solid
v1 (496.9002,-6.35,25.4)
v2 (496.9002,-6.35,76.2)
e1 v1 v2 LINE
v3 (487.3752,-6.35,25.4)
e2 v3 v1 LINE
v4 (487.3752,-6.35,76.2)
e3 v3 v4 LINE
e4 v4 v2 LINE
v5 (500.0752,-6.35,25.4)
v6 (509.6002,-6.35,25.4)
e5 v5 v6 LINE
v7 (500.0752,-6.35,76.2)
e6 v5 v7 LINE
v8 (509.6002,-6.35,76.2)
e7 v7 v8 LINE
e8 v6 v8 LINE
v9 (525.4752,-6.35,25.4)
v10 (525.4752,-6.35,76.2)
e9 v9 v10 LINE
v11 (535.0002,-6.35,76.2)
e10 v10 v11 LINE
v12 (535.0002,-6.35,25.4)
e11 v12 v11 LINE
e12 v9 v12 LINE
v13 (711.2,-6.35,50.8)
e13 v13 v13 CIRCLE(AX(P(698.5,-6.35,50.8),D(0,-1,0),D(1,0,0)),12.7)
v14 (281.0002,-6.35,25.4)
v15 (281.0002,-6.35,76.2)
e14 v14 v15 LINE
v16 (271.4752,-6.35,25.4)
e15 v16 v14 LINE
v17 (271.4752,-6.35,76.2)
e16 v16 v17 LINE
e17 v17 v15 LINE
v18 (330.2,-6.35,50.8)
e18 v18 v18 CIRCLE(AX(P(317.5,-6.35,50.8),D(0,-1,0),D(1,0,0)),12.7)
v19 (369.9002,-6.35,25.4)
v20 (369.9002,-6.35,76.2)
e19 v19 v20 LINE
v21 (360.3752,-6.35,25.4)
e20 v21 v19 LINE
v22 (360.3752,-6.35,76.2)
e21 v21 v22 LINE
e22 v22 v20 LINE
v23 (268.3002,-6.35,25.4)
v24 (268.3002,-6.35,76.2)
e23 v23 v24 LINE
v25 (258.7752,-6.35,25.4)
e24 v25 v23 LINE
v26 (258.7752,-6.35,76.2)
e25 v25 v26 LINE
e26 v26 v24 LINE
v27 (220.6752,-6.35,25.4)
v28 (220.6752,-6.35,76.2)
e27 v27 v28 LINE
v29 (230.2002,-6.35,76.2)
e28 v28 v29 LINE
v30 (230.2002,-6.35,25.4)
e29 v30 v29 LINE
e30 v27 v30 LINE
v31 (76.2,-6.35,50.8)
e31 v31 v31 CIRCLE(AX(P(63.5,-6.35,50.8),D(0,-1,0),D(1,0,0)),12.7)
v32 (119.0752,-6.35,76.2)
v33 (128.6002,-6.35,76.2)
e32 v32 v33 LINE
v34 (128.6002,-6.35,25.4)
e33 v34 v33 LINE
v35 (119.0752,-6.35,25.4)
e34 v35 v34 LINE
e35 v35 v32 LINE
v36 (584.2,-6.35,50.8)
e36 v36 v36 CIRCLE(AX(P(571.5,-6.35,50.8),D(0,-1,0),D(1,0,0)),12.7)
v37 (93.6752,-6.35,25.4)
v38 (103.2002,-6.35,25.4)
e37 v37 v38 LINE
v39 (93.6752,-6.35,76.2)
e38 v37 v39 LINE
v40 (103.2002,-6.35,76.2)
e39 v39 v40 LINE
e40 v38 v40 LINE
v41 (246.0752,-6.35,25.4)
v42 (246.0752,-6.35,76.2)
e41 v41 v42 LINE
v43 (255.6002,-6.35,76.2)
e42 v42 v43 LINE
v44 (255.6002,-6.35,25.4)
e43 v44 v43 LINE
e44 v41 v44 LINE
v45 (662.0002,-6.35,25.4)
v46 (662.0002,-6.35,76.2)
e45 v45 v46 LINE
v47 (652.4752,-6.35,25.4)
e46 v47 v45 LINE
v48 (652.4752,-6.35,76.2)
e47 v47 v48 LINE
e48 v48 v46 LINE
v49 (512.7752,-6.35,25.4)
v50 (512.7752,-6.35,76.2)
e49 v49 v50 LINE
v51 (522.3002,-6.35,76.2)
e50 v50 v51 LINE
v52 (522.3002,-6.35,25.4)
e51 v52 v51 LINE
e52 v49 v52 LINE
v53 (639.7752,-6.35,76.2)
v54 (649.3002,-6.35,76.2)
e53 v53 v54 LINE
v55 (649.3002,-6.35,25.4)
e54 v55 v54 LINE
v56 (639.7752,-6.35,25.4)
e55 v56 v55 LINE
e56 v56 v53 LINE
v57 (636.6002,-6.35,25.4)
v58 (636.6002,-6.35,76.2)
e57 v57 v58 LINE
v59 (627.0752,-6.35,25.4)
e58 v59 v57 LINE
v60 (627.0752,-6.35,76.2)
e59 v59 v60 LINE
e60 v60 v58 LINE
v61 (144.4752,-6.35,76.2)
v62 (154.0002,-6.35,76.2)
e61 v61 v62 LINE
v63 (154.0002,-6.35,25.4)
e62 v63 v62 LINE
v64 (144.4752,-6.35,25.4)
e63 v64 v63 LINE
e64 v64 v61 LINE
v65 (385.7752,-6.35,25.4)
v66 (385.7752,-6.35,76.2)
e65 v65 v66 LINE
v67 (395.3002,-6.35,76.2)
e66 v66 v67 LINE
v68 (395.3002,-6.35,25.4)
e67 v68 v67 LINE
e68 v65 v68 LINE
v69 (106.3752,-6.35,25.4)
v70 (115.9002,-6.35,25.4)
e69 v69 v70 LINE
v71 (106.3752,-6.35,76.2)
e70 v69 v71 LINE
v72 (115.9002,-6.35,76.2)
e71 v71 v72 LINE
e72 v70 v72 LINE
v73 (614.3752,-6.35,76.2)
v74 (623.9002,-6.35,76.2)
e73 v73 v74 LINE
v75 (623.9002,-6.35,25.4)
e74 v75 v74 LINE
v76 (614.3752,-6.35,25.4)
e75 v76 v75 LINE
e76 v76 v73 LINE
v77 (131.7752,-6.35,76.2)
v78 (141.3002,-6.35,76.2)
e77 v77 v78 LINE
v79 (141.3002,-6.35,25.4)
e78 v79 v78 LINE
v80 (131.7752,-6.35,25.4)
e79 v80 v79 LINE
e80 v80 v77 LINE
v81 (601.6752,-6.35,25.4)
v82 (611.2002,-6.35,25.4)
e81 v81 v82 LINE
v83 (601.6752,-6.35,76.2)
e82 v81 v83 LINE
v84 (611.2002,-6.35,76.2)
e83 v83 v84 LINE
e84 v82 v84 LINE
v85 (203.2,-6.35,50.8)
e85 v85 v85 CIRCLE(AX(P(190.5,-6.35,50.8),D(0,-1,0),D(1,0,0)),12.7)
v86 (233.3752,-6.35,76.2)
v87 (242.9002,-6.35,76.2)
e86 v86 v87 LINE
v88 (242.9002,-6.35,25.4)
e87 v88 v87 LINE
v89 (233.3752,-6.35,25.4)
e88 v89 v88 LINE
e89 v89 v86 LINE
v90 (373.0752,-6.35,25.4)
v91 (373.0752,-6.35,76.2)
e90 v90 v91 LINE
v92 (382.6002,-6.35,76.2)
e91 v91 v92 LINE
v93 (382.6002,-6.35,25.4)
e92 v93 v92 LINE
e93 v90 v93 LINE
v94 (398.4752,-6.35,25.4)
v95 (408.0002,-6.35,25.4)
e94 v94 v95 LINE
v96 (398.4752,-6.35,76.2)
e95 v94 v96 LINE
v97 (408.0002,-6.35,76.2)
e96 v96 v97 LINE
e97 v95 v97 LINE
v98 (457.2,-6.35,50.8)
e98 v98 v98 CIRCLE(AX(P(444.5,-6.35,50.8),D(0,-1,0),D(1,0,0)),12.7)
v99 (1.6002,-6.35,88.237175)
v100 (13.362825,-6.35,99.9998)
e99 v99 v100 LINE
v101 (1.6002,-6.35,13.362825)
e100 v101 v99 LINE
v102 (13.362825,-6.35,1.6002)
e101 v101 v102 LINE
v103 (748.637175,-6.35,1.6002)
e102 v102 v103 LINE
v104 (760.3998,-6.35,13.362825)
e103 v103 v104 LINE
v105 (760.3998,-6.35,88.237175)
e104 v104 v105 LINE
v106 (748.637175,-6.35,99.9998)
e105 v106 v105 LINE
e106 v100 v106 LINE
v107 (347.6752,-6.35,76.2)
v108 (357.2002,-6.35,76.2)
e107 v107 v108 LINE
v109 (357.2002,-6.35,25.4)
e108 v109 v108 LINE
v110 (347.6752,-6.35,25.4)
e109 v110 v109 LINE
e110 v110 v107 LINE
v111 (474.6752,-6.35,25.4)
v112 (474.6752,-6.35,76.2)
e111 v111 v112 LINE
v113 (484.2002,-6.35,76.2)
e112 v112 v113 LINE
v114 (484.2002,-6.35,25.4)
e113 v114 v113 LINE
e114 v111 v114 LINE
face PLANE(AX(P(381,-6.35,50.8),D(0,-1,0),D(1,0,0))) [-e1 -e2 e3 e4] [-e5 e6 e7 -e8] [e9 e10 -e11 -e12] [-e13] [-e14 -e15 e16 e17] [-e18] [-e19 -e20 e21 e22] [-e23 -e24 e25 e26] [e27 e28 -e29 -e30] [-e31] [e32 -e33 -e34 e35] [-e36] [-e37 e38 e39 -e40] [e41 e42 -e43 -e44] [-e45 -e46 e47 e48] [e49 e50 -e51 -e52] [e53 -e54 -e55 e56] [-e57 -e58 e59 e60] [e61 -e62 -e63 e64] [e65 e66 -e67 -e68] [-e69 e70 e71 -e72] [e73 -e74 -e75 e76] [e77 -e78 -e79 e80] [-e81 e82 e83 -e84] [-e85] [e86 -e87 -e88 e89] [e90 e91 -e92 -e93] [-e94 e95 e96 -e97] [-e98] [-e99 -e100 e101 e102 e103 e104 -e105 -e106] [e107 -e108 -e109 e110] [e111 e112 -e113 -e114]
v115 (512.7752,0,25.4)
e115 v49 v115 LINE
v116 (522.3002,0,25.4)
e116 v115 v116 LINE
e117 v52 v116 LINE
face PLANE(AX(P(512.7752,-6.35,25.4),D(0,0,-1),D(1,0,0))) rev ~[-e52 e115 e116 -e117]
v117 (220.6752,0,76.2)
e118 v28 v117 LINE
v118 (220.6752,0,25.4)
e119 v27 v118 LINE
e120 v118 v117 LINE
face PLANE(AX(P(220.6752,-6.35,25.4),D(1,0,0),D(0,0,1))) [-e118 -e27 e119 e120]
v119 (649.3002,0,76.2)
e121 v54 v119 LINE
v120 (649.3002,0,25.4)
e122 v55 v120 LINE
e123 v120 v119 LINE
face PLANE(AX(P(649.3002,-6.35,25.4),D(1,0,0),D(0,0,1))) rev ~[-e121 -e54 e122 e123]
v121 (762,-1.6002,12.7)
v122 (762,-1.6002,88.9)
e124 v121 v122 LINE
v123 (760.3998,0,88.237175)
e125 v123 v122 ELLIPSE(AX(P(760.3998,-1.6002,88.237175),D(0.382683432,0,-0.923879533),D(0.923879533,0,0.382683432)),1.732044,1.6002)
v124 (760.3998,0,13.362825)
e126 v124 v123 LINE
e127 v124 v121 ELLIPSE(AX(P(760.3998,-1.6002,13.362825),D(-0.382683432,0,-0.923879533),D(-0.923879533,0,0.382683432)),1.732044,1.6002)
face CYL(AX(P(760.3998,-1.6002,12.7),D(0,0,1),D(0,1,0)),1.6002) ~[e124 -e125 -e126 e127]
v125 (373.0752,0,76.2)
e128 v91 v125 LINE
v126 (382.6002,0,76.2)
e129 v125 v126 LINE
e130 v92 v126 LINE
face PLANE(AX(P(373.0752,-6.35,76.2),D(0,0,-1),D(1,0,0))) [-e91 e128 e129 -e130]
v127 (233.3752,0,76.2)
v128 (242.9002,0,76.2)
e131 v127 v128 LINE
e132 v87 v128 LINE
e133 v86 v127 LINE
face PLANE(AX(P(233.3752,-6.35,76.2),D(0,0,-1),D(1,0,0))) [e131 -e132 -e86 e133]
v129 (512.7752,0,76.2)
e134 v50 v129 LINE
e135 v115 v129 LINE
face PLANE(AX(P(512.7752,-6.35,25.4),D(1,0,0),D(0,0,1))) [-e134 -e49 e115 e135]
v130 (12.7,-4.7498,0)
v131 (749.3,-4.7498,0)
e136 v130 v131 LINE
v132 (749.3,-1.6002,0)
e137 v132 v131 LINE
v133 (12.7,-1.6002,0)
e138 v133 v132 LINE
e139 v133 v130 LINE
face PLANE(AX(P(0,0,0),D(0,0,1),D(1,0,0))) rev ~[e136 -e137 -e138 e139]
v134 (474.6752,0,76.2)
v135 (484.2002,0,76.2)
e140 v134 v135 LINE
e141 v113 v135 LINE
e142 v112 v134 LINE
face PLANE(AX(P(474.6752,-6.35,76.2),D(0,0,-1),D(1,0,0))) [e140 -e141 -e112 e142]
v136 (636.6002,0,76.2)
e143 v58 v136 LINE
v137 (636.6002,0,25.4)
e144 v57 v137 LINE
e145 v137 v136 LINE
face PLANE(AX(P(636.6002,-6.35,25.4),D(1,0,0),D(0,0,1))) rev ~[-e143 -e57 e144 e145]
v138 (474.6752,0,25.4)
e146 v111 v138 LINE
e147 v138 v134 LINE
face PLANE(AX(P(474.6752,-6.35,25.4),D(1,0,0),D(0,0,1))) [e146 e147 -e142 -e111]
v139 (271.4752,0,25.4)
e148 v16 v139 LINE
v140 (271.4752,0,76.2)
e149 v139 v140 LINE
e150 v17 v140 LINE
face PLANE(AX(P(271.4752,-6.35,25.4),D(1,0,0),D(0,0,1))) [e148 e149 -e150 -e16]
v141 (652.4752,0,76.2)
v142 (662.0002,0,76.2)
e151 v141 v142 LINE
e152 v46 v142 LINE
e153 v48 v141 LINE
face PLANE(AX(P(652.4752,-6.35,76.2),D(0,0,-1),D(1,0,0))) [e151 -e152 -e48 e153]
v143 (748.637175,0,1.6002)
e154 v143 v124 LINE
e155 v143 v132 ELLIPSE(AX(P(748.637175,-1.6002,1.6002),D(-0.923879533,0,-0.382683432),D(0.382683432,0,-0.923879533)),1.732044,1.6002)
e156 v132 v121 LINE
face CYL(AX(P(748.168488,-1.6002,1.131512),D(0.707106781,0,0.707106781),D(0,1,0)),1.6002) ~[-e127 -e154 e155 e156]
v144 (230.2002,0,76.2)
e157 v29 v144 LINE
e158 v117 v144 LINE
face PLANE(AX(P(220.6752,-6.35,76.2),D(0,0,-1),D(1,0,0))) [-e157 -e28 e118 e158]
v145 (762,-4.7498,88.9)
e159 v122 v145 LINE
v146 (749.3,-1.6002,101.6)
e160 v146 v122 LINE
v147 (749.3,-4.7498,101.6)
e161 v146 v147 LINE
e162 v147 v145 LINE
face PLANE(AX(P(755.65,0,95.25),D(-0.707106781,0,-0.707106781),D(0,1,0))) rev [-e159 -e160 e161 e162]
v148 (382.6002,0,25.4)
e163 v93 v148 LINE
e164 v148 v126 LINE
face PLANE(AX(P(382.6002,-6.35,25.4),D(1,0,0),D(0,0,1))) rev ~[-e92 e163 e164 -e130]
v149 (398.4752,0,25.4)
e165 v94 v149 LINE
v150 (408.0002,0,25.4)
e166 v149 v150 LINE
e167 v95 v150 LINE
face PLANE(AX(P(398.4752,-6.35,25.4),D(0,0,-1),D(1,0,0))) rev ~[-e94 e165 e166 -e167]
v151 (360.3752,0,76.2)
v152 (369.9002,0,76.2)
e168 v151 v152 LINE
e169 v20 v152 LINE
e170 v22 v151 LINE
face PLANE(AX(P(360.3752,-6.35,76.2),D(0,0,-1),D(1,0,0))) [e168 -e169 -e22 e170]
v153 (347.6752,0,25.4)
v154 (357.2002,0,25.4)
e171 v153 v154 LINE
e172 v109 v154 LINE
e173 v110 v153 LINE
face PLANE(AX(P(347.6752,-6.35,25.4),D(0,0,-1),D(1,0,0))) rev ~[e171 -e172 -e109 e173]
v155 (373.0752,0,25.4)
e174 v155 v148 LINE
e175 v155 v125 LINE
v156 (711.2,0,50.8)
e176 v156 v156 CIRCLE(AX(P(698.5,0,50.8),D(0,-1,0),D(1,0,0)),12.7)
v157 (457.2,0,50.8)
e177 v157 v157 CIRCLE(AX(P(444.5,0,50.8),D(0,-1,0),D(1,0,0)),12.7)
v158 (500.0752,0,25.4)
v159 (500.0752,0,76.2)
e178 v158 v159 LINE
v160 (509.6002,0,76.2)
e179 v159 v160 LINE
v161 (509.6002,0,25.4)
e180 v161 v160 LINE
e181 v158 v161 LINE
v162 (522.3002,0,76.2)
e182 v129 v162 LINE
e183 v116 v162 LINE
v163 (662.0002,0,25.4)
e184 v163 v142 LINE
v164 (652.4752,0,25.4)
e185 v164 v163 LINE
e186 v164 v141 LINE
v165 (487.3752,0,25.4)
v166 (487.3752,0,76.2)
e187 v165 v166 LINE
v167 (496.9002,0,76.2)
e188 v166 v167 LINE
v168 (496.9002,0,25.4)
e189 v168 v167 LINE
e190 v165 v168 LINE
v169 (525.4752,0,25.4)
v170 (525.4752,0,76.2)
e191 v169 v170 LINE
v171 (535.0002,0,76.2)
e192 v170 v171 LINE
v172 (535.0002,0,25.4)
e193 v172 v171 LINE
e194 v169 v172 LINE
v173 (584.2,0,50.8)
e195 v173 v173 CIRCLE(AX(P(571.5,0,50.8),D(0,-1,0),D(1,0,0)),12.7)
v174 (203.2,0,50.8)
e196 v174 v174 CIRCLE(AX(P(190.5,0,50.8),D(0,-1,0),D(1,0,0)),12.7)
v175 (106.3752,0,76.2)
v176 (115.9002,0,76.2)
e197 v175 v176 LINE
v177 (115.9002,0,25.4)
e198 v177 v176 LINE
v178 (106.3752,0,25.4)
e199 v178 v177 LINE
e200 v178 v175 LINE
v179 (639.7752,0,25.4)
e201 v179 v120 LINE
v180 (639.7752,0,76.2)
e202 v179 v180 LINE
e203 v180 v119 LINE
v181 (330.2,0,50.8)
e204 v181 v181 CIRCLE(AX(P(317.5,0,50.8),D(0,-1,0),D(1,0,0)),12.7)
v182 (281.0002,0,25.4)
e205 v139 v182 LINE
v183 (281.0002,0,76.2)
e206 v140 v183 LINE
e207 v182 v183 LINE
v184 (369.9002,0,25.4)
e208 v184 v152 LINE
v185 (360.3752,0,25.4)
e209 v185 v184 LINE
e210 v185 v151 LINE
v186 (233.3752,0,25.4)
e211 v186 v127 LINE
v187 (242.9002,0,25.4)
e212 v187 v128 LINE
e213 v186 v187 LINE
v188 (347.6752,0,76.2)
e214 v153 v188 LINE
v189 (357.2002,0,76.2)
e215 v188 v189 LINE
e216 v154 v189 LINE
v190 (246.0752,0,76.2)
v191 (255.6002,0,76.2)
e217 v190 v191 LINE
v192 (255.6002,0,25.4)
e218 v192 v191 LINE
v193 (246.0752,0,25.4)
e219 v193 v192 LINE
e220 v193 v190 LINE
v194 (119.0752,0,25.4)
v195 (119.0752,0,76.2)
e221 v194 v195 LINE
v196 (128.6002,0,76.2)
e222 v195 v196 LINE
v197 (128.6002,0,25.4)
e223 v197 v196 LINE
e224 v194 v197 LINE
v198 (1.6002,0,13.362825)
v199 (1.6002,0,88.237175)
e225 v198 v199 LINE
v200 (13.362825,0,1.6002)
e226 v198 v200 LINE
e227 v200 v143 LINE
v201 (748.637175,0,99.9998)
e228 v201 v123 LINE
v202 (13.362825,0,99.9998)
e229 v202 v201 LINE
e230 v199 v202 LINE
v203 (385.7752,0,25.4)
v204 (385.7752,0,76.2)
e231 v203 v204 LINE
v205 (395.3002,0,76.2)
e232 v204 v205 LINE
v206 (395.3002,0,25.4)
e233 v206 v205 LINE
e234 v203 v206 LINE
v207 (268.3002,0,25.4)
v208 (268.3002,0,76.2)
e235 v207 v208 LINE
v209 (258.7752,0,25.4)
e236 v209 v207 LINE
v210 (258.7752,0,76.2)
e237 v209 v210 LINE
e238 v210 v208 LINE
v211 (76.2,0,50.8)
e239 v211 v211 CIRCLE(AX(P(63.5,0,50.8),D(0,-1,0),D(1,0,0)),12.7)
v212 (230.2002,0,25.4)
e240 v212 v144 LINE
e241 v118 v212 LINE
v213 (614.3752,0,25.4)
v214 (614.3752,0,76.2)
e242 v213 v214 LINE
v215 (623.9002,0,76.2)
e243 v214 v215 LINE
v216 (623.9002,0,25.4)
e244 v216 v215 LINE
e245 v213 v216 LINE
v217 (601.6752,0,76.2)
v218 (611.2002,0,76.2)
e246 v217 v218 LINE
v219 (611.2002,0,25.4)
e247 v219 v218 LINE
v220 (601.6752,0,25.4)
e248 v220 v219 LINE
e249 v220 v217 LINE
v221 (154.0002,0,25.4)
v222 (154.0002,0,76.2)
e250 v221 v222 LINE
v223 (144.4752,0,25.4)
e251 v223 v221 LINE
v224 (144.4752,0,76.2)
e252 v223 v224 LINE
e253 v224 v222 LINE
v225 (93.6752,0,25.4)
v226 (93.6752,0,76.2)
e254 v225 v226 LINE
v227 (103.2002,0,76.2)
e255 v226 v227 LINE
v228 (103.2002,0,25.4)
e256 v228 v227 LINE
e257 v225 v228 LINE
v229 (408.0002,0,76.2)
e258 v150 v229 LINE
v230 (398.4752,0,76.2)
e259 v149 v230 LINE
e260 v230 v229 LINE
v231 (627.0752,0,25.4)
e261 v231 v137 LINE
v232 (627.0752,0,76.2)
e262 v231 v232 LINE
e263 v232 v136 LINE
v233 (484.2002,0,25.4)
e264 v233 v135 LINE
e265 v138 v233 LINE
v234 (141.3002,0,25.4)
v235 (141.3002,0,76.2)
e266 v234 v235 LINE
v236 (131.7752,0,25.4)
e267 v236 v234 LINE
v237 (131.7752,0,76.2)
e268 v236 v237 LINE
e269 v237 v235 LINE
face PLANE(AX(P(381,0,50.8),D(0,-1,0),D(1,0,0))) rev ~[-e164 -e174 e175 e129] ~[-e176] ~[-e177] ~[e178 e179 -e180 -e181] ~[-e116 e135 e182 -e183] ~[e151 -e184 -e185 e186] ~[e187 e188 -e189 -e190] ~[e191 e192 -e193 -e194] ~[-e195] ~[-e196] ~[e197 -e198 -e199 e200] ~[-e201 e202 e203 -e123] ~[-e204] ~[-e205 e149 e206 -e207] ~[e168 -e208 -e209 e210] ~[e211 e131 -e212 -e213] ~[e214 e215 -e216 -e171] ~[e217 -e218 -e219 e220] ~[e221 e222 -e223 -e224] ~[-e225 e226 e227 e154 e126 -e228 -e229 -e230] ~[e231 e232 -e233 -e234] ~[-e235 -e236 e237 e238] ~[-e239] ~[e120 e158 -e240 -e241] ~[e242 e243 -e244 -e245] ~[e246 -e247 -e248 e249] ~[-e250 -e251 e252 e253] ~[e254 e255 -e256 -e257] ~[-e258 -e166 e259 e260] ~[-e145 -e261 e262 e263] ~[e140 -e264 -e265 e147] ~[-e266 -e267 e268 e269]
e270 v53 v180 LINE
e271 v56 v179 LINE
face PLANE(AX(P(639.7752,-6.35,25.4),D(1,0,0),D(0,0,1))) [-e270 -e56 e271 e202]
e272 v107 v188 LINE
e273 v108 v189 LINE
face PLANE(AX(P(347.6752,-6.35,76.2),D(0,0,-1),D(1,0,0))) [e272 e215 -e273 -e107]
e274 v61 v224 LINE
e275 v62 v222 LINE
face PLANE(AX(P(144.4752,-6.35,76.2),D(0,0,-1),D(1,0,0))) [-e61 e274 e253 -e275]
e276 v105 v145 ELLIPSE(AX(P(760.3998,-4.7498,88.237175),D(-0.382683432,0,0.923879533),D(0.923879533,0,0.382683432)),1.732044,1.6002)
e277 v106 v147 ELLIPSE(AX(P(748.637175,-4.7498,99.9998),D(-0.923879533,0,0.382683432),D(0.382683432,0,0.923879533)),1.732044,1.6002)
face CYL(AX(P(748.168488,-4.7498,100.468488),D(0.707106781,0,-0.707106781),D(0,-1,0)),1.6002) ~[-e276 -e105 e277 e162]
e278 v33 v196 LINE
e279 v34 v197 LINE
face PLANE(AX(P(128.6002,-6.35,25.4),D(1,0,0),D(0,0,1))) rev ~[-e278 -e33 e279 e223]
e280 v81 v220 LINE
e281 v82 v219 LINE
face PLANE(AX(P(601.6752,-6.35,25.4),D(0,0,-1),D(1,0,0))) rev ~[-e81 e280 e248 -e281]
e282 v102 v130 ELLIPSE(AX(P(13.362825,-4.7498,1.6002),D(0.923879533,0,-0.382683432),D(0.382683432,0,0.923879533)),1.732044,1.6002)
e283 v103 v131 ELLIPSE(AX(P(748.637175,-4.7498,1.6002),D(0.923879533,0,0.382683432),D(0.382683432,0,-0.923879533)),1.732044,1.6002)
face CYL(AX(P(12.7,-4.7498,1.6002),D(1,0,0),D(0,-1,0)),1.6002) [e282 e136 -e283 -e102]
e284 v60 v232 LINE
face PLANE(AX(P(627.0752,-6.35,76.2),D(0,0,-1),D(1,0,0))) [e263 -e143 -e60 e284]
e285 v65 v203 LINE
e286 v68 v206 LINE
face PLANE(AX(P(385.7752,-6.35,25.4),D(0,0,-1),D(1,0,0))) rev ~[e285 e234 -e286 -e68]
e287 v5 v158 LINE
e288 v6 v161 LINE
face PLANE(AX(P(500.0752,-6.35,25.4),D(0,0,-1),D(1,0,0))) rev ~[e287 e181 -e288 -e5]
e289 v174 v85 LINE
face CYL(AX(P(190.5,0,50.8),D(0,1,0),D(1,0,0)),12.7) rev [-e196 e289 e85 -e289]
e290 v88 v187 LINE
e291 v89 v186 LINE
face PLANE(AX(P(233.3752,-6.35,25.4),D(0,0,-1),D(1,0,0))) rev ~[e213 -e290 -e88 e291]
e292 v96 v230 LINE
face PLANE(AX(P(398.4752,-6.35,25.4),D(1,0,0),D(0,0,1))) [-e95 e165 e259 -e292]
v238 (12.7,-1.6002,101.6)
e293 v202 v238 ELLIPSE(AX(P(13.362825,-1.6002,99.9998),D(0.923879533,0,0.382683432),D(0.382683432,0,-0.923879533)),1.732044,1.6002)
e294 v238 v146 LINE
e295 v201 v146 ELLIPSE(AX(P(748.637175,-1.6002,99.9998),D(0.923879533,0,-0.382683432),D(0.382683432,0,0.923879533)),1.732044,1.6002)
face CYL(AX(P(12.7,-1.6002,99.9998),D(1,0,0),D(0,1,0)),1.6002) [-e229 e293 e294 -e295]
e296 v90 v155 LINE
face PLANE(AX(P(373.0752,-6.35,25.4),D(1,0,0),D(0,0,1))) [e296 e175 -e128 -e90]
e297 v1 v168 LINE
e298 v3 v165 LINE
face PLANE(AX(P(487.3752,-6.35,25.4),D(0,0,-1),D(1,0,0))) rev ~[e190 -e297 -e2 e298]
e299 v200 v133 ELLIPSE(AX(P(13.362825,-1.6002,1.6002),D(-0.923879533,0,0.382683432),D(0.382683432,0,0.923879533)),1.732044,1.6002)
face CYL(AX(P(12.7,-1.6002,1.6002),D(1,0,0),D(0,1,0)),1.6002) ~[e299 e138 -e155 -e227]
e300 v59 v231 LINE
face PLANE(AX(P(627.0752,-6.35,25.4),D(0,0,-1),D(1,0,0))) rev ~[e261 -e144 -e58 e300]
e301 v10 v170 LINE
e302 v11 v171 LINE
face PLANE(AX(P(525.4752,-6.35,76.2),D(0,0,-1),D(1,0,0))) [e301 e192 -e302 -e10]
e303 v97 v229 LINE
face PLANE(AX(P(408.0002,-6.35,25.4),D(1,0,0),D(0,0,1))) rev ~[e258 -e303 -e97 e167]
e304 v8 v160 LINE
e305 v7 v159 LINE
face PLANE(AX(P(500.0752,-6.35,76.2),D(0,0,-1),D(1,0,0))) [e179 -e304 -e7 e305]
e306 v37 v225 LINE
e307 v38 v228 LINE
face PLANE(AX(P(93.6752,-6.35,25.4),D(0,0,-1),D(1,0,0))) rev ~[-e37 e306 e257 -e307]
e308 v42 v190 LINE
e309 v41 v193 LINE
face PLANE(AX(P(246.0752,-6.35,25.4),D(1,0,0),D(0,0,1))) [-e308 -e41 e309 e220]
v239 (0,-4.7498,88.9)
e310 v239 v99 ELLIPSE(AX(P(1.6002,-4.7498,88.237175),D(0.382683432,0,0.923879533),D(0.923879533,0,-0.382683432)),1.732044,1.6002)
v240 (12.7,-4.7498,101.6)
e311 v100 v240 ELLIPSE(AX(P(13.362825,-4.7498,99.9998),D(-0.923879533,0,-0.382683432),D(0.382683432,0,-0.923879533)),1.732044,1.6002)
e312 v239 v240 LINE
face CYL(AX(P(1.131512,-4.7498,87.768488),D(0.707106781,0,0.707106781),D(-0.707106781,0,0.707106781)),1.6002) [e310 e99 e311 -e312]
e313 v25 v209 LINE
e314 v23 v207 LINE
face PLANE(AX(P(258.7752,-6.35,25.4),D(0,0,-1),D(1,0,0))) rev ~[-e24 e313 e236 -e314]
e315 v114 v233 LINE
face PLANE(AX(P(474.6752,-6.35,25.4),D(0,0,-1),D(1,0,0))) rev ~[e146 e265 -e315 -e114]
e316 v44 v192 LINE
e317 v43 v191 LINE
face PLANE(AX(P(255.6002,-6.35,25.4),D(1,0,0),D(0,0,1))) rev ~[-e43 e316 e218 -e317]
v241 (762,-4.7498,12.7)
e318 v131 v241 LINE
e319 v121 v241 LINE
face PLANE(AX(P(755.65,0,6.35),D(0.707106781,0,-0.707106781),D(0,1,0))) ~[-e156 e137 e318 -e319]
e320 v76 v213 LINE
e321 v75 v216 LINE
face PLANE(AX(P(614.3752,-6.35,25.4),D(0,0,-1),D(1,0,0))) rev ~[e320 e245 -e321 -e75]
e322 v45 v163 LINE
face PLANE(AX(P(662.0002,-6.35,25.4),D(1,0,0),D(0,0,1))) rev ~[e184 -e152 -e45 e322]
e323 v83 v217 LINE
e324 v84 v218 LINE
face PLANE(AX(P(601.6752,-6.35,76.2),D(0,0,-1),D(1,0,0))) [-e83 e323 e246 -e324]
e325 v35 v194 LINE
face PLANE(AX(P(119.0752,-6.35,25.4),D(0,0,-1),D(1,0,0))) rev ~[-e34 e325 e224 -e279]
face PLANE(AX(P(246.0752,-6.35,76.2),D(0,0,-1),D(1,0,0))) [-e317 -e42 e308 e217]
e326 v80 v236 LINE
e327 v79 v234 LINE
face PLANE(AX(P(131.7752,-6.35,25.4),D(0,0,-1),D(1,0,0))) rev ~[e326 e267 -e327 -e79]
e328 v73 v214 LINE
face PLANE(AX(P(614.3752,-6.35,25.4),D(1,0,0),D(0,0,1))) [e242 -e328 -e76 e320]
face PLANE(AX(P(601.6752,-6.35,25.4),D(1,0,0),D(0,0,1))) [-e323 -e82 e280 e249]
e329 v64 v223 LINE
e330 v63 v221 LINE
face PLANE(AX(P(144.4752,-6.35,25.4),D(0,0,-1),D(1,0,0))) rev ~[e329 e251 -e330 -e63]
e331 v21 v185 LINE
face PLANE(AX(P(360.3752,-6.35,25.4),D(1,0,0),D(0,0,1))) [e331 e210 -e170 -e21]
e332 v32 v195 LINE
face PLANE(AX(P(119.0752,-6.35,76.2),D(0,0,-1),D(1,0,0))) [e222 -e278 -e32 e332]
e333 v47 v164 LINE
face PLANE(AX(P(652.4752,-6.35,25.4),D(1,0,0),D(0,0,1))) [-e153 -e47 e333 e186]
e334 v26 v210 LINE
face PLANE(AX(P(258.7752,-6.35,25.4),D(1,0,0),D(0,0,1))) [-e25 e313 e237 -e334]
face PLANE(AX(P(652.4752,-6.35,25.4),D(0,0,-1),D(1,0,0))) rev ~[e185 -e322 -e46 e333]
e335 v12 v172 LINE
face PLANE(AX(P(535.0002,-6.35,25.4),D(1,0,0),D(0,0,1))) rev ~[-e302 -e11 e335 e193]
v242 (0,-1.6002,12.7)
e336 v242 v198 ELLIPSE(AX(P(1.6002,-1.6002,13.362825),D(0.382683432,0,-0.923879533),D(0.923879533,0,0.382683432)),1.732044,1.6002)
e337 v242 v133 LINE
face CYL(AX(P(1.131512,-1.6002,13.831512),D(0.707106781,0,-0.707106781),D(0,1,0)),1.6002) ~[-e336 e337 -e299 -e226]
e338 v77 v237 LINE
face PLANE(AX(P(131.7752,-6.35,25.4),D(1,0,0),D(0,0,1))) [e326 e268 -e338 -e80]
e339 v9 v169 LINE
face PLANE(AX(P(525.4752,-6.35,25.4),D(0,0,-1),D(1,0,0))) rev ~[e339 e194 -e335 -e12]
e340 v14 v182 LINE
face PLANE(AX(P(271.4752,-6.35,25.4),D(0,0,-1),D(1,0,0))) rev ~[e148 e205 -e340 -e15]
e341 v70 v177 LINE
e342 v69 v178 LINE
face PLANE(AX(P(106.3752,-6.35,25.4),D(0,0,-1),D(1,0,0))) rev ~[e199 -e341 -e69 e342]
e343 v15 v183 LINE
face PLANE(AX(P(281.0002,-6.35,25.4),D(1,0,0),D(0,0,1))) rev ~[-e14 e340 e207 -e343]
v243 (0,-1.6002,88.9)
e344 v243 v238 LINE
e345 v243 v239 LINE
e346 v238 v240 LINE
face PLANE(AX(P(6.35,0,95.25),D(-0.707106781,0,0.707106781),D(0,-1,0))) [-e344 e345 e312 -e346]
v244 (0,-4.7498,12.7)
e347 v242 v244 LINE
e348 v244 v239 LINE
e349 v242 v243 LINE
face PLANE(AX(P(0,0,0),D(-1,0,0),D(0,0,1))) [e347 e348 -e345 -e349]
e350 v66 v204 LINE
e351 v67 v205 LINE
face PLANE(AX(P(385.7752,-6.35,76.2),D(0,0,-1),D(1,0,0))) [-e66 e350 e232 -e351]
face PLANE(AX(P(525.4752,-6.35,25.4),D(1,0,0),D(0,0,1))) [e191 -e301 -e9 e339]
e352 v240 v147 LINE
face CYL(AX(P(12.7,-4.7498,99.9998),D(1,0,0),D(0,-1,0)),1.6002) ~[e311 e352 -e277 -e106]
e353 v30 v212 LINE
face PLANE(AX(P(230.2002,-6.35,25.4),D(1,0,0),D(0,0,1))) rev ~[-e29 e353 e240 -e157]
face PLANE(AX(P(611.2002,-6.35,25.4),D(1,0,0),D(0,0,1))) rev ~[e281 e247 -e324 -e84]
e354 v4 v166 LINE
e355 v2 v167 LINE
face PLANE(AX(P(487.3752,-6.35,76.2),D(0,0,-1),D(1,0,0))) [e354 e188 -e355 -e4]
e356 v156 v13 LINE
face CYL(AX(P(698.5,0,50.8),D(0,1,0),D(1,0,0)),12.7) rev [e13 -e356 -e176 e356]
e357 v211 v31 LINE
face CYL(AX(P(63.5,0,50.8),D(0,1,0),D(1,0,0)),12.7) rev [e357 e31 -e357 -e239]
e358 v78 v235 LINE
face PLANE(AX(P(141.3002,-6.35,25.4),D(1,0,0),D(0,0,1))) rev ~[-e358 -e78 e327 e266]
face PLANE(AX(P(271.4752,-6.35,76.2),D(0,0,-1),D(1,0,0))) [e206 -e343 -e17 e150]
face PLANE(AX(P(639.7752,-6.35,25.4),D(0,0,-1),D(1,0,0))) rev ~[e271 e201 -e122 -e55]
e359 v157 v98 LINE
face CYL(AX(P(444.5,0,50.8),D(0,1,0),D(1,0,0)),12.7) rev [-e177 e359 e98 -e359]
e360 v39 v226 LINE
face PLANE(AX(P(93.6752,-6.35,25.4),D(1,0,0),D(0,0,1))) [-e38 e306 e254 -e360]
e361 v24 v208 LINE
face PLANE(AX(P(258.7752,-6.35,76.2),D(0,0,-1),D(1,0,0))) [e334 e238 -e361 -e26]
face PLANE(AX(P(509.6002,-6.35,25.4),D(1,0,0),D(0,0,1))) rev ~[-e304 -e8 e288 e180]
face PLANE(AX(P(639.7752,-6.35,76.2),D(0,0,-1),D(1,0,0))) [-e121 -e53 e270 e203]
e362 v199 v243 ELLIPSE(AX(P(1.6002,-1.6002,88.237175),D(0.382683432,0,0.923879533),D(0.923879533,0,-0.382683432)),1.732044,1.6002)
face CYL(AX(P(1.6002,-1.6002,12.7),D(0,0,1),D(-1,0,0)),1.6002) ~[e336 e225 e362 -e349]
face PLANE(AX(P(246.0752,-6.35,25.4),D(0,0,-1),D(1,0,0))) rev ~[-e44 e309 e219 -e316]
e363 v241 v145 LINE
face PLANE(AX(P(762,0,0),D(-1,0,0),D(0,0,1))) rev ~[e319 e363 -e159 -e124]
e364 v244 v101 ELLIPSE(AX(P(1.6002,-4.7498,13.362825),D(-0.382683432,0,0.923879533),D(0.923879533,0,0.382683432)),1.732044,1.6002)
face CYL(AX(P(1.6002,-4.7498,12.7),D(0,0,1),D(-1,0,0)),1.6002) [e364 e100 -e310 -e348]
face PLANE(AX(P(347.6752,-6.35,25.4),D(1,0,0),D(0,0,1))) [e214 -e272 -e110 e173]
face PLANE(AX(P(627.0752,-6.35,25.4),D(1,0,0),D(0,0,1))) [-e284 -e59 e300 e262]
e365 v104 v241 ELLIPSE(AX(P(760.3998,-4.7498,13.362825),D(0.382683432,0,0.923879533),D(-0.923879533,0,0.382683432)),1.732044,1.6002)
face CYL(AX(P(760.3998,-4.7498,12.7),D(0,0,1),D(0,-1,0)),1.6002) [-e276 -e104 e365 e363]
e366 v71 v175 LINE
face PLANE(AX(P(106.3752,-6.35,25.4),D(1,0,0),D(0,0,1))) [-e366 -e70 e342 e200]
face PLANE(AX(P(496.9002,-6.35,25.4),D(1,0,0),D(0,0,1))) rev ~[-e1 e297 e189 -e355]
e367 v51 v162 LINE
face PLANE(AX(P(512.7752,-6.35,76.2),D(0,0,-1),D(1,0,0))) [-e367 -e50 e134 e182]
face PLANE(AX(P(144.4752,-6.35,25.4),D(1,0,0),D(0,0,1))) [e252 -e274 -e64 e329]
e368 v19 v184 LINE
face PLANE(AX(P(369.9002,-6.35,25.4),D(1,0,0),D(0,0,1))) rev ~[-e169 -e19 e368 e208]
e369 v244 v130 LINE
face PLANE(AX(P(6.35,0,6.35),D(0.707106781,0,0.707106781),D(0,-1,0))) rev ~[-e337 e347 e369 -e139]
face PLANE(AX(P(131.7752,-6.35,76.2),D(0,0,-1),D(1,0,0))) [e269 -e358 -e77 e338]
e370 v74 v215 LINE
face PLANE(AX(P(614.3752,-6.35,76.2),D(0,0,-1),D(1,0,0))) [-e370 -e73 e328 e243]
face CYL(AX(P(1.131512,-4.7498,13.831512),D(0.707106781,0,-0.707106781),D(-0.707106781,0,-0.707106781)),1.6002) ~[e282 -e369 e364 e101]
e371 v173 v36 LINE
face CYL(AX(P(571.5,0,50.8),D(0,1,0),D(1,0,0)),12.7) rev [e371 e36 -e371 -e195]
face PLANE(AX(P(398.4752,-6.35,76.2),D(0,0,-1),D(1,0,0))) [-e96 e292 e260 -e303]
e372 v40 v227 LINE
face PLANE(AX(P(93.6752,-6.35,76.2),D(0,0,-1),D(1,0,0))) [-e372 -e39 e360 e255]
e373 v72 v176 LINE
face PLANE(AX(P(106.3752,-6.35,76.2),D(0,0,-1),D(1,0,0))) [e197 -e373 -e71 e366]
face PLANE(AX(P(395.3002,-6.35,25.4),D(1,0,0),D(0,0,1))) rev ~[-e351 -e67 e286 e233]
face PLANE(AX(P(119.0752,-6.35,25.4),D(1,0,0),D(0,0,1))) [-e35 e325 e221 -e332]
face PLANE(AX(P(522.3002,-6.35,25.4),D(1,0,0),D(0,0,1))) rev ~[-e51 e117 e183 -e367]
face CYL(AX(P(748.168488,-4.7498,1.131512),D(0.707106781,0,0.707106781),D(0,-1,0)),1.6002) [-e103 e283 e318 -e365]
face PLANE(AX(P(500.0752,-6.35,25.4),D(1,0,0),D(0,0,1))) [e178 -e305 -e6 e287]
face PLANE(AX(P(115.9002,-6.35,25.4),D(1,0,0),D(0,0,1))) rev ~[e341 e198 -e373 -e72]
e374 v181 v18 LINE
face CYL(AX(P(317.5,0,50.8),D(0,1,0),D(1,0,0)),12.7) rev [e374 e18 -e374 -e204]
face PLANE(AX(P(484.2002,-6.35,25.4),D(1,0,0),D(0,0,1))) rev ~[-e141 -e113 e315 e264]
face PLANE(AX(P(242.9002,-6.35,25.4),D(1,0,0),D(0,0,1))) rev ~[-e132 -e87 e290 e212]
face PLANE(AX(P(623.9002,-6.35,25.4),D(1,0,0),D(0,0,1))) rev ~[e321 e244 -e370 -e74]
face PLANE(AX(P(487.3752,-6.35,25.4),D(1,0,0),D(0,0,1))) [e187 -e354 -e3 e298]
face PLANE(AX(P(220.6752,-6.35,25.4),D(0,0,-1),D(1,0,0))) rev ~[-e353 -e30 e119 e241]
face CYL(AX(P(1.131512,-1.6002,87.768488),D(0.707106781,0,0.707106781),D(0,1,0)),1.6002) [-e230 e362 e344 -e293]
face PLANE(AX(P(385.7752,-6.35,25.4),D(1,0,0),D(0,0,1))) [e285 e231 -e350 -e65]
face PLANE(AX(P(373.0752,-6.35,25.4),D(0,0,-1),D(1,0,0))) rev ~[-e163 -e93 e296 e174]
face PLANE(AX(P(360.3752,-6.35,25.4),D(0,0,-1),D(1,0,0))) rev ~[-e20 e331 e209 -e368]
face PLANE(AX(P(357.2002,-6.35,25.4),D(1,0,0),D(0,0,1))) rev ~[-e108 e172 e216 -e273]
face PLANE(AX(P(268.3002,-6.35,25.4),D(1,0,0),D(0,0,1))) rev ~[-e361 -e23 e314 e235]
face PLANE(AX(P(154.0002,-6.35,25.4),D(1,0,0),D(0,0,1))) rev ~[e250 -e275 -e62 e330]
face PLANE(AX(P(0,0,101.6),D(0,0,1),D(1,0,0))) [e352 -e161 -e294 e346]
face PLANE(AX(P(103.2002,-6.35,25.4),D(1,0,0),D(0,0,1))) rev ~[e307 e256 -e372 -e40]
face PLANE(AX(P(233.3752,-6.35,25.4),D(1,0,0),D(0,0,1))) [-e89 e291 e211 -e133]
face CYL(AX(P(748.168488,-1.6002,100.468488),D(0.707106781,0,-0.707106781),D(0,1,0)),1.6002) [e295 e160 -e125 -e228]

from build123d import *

# Parameters (mm, degrees)
F0_W     = 762
F0_H     = 101.6
F0_R     = 12.7
F1_DEPTH = 6.35
F2_W     = 9.525
F2_H     = 50.8
F3_DEPTH = 6.351
F4_SIZE  = 12.7
F5_R     = 1.6002


with BuildPart() as f1:
    # F0 (on Front) → F1 (new body)
    with BuildSketch(Plane.XZ):
        with Locations((381, 50.8)):
            Rectangle(F0_W, F0_H)
        with Locations((63.5, 50.8)):
            Circle(F0_R, mode=Mode.SUBTRACT)
        with Locations((190.5, 50.8)):
            Circle(F0_R, mode=Mode.SUBTRACT)
        with Locations((317.5, 50.8)):
            Circle(F0_R, mode=Mode.SUBTRACT)
        with Locations((444.5, 50.8)):
            Circle(F0_R, mode=Mode.SUBTRACT)
        with Locations((571.5, 50.8)):
            Circle(F0_R, mode=Mode.SUBTRACT)
        with Locations((698.5, 50.8)):
            Circle(F0_R, mode=Mode.SUBTRACT)
    extrude(amount=F1_DEPTH)

    # F2 (on face) → F3 (cut, through all)
    with BuildSketch(Plane.XZ.offset(6.35)):
        with Locations((98.4377, 50.8)):
            Rectangle(F2_W, F2_H)
        with Locations((111.1377, 50.8)):
            Rectangle(F2_W, F2_H)
        with Locations((123.8377, 50.8)):
            Rectangle(F2_W, F2_H)
        with Locations((136.5377, 50.8)):
            Rectangle(F2_W, F2_H)
        with Locations((149.2377, 50.8)):
            Rectangle(F2_W, F2_H)
        with Locations((225.4377, 50.8)):
            Rectangle(F2_W, F2_H)
        with Locations((238.1377, 50.8)):
            Rectangle(F2_W, F2_H)
        with Locations((250.8377, 50.8)):
            Rectangle(F2_W, F2_H)
        with Locations((263.5377, 50.8)):
            Rectangle(F2_W, F2_H)
        with Locations((276.2377, 50.8)):
            Rectangle(F2_W, F2_H)
        with Locations((352.4377, 50.8)):
            Rectangle(F2_W, F2_H)
        with Locations((365.1377, 50.8)):
            Rectangle(F2_W, F2_H)
        with Locations((377.8377, 50.8)):
            Rectangle(F2_W, F2_H)
        with Locations((390.5377, 50.8)):
            Rectangle(F2_W, F2_H)
        with Locations((403.2377, 50.8)):
            Rectangle(F2_W, F2_H)
        with Locations((479.4377, 50.8)):
            Rectangle(F2_W, F2_H)
        with Locations((492.1377, 50.8)):
            Rectangle(F2_W, F2_H)
        with Locations((504.8377, 50.8)):
            Rectangle(F2_W, F2_H)
        with Locations((517.5377, 50.8)):
            Rectangle(F2_W, F2_H)
        with Locations((530.2377, 50.8)):
            Rectangle(F2_W, F2_H)
        with Locations((606.4377, 50.8)):
            Rectangle(F2_W, F2_H)
        with Locations((619.1377, 50.8)):
            Rectangle(F2_W, F2_H)
        with Locations((631.8377, 50.8)):
            Rectangle(F2_W, F2_H)
        with Locations((644.5377, 50.8)):
            Rectangle(F2_W, F2_H)
        with Locations((657.2377, 50.8)):
            Rectangle(F2_W, F2_H)
    extrude(amount=-F3_DEPTH, mode=Mode.SUBTRACT)

    # F4
    f4_edges = [f1.edges().sort_by_distance(p)[0] for p in [
        (0, -3.175, 101.6),
        (0, -3.175, 0),
        (762, -3.175, 101.6),
        (762, -3.175, 0),
    ]]
    chamfer(f4_edges, length=F4_SIZE)

    # F5
    f5_edges = [f1.edges().sort_by_distance(p)[0] for p in [
        (381, -6.35, 101.6),
        (381, 0, 101.6),
        (381, -6.35, 0),
        (381, 0, 0),
        (6.35, -6.35, 95.25),
        (6.35, 0, 95.25),
        (0, -6.35, 50.8),
        (0, 0, 50.8),
        (6.35, -6.35, 6.35),
        (6.35, 0, 6.35),
        (755.65, -6.35, 95.25),
        (755.65, 0, 95.25),
        (762, -6.35, 50.8),
        (762, 0, 50.8),
        (755.65, -6.35, 6.35),
        (755.65, 0, 6.35),
    ]]
    fillet(f5_edges, radius=F5_R)


solid = f1.part
